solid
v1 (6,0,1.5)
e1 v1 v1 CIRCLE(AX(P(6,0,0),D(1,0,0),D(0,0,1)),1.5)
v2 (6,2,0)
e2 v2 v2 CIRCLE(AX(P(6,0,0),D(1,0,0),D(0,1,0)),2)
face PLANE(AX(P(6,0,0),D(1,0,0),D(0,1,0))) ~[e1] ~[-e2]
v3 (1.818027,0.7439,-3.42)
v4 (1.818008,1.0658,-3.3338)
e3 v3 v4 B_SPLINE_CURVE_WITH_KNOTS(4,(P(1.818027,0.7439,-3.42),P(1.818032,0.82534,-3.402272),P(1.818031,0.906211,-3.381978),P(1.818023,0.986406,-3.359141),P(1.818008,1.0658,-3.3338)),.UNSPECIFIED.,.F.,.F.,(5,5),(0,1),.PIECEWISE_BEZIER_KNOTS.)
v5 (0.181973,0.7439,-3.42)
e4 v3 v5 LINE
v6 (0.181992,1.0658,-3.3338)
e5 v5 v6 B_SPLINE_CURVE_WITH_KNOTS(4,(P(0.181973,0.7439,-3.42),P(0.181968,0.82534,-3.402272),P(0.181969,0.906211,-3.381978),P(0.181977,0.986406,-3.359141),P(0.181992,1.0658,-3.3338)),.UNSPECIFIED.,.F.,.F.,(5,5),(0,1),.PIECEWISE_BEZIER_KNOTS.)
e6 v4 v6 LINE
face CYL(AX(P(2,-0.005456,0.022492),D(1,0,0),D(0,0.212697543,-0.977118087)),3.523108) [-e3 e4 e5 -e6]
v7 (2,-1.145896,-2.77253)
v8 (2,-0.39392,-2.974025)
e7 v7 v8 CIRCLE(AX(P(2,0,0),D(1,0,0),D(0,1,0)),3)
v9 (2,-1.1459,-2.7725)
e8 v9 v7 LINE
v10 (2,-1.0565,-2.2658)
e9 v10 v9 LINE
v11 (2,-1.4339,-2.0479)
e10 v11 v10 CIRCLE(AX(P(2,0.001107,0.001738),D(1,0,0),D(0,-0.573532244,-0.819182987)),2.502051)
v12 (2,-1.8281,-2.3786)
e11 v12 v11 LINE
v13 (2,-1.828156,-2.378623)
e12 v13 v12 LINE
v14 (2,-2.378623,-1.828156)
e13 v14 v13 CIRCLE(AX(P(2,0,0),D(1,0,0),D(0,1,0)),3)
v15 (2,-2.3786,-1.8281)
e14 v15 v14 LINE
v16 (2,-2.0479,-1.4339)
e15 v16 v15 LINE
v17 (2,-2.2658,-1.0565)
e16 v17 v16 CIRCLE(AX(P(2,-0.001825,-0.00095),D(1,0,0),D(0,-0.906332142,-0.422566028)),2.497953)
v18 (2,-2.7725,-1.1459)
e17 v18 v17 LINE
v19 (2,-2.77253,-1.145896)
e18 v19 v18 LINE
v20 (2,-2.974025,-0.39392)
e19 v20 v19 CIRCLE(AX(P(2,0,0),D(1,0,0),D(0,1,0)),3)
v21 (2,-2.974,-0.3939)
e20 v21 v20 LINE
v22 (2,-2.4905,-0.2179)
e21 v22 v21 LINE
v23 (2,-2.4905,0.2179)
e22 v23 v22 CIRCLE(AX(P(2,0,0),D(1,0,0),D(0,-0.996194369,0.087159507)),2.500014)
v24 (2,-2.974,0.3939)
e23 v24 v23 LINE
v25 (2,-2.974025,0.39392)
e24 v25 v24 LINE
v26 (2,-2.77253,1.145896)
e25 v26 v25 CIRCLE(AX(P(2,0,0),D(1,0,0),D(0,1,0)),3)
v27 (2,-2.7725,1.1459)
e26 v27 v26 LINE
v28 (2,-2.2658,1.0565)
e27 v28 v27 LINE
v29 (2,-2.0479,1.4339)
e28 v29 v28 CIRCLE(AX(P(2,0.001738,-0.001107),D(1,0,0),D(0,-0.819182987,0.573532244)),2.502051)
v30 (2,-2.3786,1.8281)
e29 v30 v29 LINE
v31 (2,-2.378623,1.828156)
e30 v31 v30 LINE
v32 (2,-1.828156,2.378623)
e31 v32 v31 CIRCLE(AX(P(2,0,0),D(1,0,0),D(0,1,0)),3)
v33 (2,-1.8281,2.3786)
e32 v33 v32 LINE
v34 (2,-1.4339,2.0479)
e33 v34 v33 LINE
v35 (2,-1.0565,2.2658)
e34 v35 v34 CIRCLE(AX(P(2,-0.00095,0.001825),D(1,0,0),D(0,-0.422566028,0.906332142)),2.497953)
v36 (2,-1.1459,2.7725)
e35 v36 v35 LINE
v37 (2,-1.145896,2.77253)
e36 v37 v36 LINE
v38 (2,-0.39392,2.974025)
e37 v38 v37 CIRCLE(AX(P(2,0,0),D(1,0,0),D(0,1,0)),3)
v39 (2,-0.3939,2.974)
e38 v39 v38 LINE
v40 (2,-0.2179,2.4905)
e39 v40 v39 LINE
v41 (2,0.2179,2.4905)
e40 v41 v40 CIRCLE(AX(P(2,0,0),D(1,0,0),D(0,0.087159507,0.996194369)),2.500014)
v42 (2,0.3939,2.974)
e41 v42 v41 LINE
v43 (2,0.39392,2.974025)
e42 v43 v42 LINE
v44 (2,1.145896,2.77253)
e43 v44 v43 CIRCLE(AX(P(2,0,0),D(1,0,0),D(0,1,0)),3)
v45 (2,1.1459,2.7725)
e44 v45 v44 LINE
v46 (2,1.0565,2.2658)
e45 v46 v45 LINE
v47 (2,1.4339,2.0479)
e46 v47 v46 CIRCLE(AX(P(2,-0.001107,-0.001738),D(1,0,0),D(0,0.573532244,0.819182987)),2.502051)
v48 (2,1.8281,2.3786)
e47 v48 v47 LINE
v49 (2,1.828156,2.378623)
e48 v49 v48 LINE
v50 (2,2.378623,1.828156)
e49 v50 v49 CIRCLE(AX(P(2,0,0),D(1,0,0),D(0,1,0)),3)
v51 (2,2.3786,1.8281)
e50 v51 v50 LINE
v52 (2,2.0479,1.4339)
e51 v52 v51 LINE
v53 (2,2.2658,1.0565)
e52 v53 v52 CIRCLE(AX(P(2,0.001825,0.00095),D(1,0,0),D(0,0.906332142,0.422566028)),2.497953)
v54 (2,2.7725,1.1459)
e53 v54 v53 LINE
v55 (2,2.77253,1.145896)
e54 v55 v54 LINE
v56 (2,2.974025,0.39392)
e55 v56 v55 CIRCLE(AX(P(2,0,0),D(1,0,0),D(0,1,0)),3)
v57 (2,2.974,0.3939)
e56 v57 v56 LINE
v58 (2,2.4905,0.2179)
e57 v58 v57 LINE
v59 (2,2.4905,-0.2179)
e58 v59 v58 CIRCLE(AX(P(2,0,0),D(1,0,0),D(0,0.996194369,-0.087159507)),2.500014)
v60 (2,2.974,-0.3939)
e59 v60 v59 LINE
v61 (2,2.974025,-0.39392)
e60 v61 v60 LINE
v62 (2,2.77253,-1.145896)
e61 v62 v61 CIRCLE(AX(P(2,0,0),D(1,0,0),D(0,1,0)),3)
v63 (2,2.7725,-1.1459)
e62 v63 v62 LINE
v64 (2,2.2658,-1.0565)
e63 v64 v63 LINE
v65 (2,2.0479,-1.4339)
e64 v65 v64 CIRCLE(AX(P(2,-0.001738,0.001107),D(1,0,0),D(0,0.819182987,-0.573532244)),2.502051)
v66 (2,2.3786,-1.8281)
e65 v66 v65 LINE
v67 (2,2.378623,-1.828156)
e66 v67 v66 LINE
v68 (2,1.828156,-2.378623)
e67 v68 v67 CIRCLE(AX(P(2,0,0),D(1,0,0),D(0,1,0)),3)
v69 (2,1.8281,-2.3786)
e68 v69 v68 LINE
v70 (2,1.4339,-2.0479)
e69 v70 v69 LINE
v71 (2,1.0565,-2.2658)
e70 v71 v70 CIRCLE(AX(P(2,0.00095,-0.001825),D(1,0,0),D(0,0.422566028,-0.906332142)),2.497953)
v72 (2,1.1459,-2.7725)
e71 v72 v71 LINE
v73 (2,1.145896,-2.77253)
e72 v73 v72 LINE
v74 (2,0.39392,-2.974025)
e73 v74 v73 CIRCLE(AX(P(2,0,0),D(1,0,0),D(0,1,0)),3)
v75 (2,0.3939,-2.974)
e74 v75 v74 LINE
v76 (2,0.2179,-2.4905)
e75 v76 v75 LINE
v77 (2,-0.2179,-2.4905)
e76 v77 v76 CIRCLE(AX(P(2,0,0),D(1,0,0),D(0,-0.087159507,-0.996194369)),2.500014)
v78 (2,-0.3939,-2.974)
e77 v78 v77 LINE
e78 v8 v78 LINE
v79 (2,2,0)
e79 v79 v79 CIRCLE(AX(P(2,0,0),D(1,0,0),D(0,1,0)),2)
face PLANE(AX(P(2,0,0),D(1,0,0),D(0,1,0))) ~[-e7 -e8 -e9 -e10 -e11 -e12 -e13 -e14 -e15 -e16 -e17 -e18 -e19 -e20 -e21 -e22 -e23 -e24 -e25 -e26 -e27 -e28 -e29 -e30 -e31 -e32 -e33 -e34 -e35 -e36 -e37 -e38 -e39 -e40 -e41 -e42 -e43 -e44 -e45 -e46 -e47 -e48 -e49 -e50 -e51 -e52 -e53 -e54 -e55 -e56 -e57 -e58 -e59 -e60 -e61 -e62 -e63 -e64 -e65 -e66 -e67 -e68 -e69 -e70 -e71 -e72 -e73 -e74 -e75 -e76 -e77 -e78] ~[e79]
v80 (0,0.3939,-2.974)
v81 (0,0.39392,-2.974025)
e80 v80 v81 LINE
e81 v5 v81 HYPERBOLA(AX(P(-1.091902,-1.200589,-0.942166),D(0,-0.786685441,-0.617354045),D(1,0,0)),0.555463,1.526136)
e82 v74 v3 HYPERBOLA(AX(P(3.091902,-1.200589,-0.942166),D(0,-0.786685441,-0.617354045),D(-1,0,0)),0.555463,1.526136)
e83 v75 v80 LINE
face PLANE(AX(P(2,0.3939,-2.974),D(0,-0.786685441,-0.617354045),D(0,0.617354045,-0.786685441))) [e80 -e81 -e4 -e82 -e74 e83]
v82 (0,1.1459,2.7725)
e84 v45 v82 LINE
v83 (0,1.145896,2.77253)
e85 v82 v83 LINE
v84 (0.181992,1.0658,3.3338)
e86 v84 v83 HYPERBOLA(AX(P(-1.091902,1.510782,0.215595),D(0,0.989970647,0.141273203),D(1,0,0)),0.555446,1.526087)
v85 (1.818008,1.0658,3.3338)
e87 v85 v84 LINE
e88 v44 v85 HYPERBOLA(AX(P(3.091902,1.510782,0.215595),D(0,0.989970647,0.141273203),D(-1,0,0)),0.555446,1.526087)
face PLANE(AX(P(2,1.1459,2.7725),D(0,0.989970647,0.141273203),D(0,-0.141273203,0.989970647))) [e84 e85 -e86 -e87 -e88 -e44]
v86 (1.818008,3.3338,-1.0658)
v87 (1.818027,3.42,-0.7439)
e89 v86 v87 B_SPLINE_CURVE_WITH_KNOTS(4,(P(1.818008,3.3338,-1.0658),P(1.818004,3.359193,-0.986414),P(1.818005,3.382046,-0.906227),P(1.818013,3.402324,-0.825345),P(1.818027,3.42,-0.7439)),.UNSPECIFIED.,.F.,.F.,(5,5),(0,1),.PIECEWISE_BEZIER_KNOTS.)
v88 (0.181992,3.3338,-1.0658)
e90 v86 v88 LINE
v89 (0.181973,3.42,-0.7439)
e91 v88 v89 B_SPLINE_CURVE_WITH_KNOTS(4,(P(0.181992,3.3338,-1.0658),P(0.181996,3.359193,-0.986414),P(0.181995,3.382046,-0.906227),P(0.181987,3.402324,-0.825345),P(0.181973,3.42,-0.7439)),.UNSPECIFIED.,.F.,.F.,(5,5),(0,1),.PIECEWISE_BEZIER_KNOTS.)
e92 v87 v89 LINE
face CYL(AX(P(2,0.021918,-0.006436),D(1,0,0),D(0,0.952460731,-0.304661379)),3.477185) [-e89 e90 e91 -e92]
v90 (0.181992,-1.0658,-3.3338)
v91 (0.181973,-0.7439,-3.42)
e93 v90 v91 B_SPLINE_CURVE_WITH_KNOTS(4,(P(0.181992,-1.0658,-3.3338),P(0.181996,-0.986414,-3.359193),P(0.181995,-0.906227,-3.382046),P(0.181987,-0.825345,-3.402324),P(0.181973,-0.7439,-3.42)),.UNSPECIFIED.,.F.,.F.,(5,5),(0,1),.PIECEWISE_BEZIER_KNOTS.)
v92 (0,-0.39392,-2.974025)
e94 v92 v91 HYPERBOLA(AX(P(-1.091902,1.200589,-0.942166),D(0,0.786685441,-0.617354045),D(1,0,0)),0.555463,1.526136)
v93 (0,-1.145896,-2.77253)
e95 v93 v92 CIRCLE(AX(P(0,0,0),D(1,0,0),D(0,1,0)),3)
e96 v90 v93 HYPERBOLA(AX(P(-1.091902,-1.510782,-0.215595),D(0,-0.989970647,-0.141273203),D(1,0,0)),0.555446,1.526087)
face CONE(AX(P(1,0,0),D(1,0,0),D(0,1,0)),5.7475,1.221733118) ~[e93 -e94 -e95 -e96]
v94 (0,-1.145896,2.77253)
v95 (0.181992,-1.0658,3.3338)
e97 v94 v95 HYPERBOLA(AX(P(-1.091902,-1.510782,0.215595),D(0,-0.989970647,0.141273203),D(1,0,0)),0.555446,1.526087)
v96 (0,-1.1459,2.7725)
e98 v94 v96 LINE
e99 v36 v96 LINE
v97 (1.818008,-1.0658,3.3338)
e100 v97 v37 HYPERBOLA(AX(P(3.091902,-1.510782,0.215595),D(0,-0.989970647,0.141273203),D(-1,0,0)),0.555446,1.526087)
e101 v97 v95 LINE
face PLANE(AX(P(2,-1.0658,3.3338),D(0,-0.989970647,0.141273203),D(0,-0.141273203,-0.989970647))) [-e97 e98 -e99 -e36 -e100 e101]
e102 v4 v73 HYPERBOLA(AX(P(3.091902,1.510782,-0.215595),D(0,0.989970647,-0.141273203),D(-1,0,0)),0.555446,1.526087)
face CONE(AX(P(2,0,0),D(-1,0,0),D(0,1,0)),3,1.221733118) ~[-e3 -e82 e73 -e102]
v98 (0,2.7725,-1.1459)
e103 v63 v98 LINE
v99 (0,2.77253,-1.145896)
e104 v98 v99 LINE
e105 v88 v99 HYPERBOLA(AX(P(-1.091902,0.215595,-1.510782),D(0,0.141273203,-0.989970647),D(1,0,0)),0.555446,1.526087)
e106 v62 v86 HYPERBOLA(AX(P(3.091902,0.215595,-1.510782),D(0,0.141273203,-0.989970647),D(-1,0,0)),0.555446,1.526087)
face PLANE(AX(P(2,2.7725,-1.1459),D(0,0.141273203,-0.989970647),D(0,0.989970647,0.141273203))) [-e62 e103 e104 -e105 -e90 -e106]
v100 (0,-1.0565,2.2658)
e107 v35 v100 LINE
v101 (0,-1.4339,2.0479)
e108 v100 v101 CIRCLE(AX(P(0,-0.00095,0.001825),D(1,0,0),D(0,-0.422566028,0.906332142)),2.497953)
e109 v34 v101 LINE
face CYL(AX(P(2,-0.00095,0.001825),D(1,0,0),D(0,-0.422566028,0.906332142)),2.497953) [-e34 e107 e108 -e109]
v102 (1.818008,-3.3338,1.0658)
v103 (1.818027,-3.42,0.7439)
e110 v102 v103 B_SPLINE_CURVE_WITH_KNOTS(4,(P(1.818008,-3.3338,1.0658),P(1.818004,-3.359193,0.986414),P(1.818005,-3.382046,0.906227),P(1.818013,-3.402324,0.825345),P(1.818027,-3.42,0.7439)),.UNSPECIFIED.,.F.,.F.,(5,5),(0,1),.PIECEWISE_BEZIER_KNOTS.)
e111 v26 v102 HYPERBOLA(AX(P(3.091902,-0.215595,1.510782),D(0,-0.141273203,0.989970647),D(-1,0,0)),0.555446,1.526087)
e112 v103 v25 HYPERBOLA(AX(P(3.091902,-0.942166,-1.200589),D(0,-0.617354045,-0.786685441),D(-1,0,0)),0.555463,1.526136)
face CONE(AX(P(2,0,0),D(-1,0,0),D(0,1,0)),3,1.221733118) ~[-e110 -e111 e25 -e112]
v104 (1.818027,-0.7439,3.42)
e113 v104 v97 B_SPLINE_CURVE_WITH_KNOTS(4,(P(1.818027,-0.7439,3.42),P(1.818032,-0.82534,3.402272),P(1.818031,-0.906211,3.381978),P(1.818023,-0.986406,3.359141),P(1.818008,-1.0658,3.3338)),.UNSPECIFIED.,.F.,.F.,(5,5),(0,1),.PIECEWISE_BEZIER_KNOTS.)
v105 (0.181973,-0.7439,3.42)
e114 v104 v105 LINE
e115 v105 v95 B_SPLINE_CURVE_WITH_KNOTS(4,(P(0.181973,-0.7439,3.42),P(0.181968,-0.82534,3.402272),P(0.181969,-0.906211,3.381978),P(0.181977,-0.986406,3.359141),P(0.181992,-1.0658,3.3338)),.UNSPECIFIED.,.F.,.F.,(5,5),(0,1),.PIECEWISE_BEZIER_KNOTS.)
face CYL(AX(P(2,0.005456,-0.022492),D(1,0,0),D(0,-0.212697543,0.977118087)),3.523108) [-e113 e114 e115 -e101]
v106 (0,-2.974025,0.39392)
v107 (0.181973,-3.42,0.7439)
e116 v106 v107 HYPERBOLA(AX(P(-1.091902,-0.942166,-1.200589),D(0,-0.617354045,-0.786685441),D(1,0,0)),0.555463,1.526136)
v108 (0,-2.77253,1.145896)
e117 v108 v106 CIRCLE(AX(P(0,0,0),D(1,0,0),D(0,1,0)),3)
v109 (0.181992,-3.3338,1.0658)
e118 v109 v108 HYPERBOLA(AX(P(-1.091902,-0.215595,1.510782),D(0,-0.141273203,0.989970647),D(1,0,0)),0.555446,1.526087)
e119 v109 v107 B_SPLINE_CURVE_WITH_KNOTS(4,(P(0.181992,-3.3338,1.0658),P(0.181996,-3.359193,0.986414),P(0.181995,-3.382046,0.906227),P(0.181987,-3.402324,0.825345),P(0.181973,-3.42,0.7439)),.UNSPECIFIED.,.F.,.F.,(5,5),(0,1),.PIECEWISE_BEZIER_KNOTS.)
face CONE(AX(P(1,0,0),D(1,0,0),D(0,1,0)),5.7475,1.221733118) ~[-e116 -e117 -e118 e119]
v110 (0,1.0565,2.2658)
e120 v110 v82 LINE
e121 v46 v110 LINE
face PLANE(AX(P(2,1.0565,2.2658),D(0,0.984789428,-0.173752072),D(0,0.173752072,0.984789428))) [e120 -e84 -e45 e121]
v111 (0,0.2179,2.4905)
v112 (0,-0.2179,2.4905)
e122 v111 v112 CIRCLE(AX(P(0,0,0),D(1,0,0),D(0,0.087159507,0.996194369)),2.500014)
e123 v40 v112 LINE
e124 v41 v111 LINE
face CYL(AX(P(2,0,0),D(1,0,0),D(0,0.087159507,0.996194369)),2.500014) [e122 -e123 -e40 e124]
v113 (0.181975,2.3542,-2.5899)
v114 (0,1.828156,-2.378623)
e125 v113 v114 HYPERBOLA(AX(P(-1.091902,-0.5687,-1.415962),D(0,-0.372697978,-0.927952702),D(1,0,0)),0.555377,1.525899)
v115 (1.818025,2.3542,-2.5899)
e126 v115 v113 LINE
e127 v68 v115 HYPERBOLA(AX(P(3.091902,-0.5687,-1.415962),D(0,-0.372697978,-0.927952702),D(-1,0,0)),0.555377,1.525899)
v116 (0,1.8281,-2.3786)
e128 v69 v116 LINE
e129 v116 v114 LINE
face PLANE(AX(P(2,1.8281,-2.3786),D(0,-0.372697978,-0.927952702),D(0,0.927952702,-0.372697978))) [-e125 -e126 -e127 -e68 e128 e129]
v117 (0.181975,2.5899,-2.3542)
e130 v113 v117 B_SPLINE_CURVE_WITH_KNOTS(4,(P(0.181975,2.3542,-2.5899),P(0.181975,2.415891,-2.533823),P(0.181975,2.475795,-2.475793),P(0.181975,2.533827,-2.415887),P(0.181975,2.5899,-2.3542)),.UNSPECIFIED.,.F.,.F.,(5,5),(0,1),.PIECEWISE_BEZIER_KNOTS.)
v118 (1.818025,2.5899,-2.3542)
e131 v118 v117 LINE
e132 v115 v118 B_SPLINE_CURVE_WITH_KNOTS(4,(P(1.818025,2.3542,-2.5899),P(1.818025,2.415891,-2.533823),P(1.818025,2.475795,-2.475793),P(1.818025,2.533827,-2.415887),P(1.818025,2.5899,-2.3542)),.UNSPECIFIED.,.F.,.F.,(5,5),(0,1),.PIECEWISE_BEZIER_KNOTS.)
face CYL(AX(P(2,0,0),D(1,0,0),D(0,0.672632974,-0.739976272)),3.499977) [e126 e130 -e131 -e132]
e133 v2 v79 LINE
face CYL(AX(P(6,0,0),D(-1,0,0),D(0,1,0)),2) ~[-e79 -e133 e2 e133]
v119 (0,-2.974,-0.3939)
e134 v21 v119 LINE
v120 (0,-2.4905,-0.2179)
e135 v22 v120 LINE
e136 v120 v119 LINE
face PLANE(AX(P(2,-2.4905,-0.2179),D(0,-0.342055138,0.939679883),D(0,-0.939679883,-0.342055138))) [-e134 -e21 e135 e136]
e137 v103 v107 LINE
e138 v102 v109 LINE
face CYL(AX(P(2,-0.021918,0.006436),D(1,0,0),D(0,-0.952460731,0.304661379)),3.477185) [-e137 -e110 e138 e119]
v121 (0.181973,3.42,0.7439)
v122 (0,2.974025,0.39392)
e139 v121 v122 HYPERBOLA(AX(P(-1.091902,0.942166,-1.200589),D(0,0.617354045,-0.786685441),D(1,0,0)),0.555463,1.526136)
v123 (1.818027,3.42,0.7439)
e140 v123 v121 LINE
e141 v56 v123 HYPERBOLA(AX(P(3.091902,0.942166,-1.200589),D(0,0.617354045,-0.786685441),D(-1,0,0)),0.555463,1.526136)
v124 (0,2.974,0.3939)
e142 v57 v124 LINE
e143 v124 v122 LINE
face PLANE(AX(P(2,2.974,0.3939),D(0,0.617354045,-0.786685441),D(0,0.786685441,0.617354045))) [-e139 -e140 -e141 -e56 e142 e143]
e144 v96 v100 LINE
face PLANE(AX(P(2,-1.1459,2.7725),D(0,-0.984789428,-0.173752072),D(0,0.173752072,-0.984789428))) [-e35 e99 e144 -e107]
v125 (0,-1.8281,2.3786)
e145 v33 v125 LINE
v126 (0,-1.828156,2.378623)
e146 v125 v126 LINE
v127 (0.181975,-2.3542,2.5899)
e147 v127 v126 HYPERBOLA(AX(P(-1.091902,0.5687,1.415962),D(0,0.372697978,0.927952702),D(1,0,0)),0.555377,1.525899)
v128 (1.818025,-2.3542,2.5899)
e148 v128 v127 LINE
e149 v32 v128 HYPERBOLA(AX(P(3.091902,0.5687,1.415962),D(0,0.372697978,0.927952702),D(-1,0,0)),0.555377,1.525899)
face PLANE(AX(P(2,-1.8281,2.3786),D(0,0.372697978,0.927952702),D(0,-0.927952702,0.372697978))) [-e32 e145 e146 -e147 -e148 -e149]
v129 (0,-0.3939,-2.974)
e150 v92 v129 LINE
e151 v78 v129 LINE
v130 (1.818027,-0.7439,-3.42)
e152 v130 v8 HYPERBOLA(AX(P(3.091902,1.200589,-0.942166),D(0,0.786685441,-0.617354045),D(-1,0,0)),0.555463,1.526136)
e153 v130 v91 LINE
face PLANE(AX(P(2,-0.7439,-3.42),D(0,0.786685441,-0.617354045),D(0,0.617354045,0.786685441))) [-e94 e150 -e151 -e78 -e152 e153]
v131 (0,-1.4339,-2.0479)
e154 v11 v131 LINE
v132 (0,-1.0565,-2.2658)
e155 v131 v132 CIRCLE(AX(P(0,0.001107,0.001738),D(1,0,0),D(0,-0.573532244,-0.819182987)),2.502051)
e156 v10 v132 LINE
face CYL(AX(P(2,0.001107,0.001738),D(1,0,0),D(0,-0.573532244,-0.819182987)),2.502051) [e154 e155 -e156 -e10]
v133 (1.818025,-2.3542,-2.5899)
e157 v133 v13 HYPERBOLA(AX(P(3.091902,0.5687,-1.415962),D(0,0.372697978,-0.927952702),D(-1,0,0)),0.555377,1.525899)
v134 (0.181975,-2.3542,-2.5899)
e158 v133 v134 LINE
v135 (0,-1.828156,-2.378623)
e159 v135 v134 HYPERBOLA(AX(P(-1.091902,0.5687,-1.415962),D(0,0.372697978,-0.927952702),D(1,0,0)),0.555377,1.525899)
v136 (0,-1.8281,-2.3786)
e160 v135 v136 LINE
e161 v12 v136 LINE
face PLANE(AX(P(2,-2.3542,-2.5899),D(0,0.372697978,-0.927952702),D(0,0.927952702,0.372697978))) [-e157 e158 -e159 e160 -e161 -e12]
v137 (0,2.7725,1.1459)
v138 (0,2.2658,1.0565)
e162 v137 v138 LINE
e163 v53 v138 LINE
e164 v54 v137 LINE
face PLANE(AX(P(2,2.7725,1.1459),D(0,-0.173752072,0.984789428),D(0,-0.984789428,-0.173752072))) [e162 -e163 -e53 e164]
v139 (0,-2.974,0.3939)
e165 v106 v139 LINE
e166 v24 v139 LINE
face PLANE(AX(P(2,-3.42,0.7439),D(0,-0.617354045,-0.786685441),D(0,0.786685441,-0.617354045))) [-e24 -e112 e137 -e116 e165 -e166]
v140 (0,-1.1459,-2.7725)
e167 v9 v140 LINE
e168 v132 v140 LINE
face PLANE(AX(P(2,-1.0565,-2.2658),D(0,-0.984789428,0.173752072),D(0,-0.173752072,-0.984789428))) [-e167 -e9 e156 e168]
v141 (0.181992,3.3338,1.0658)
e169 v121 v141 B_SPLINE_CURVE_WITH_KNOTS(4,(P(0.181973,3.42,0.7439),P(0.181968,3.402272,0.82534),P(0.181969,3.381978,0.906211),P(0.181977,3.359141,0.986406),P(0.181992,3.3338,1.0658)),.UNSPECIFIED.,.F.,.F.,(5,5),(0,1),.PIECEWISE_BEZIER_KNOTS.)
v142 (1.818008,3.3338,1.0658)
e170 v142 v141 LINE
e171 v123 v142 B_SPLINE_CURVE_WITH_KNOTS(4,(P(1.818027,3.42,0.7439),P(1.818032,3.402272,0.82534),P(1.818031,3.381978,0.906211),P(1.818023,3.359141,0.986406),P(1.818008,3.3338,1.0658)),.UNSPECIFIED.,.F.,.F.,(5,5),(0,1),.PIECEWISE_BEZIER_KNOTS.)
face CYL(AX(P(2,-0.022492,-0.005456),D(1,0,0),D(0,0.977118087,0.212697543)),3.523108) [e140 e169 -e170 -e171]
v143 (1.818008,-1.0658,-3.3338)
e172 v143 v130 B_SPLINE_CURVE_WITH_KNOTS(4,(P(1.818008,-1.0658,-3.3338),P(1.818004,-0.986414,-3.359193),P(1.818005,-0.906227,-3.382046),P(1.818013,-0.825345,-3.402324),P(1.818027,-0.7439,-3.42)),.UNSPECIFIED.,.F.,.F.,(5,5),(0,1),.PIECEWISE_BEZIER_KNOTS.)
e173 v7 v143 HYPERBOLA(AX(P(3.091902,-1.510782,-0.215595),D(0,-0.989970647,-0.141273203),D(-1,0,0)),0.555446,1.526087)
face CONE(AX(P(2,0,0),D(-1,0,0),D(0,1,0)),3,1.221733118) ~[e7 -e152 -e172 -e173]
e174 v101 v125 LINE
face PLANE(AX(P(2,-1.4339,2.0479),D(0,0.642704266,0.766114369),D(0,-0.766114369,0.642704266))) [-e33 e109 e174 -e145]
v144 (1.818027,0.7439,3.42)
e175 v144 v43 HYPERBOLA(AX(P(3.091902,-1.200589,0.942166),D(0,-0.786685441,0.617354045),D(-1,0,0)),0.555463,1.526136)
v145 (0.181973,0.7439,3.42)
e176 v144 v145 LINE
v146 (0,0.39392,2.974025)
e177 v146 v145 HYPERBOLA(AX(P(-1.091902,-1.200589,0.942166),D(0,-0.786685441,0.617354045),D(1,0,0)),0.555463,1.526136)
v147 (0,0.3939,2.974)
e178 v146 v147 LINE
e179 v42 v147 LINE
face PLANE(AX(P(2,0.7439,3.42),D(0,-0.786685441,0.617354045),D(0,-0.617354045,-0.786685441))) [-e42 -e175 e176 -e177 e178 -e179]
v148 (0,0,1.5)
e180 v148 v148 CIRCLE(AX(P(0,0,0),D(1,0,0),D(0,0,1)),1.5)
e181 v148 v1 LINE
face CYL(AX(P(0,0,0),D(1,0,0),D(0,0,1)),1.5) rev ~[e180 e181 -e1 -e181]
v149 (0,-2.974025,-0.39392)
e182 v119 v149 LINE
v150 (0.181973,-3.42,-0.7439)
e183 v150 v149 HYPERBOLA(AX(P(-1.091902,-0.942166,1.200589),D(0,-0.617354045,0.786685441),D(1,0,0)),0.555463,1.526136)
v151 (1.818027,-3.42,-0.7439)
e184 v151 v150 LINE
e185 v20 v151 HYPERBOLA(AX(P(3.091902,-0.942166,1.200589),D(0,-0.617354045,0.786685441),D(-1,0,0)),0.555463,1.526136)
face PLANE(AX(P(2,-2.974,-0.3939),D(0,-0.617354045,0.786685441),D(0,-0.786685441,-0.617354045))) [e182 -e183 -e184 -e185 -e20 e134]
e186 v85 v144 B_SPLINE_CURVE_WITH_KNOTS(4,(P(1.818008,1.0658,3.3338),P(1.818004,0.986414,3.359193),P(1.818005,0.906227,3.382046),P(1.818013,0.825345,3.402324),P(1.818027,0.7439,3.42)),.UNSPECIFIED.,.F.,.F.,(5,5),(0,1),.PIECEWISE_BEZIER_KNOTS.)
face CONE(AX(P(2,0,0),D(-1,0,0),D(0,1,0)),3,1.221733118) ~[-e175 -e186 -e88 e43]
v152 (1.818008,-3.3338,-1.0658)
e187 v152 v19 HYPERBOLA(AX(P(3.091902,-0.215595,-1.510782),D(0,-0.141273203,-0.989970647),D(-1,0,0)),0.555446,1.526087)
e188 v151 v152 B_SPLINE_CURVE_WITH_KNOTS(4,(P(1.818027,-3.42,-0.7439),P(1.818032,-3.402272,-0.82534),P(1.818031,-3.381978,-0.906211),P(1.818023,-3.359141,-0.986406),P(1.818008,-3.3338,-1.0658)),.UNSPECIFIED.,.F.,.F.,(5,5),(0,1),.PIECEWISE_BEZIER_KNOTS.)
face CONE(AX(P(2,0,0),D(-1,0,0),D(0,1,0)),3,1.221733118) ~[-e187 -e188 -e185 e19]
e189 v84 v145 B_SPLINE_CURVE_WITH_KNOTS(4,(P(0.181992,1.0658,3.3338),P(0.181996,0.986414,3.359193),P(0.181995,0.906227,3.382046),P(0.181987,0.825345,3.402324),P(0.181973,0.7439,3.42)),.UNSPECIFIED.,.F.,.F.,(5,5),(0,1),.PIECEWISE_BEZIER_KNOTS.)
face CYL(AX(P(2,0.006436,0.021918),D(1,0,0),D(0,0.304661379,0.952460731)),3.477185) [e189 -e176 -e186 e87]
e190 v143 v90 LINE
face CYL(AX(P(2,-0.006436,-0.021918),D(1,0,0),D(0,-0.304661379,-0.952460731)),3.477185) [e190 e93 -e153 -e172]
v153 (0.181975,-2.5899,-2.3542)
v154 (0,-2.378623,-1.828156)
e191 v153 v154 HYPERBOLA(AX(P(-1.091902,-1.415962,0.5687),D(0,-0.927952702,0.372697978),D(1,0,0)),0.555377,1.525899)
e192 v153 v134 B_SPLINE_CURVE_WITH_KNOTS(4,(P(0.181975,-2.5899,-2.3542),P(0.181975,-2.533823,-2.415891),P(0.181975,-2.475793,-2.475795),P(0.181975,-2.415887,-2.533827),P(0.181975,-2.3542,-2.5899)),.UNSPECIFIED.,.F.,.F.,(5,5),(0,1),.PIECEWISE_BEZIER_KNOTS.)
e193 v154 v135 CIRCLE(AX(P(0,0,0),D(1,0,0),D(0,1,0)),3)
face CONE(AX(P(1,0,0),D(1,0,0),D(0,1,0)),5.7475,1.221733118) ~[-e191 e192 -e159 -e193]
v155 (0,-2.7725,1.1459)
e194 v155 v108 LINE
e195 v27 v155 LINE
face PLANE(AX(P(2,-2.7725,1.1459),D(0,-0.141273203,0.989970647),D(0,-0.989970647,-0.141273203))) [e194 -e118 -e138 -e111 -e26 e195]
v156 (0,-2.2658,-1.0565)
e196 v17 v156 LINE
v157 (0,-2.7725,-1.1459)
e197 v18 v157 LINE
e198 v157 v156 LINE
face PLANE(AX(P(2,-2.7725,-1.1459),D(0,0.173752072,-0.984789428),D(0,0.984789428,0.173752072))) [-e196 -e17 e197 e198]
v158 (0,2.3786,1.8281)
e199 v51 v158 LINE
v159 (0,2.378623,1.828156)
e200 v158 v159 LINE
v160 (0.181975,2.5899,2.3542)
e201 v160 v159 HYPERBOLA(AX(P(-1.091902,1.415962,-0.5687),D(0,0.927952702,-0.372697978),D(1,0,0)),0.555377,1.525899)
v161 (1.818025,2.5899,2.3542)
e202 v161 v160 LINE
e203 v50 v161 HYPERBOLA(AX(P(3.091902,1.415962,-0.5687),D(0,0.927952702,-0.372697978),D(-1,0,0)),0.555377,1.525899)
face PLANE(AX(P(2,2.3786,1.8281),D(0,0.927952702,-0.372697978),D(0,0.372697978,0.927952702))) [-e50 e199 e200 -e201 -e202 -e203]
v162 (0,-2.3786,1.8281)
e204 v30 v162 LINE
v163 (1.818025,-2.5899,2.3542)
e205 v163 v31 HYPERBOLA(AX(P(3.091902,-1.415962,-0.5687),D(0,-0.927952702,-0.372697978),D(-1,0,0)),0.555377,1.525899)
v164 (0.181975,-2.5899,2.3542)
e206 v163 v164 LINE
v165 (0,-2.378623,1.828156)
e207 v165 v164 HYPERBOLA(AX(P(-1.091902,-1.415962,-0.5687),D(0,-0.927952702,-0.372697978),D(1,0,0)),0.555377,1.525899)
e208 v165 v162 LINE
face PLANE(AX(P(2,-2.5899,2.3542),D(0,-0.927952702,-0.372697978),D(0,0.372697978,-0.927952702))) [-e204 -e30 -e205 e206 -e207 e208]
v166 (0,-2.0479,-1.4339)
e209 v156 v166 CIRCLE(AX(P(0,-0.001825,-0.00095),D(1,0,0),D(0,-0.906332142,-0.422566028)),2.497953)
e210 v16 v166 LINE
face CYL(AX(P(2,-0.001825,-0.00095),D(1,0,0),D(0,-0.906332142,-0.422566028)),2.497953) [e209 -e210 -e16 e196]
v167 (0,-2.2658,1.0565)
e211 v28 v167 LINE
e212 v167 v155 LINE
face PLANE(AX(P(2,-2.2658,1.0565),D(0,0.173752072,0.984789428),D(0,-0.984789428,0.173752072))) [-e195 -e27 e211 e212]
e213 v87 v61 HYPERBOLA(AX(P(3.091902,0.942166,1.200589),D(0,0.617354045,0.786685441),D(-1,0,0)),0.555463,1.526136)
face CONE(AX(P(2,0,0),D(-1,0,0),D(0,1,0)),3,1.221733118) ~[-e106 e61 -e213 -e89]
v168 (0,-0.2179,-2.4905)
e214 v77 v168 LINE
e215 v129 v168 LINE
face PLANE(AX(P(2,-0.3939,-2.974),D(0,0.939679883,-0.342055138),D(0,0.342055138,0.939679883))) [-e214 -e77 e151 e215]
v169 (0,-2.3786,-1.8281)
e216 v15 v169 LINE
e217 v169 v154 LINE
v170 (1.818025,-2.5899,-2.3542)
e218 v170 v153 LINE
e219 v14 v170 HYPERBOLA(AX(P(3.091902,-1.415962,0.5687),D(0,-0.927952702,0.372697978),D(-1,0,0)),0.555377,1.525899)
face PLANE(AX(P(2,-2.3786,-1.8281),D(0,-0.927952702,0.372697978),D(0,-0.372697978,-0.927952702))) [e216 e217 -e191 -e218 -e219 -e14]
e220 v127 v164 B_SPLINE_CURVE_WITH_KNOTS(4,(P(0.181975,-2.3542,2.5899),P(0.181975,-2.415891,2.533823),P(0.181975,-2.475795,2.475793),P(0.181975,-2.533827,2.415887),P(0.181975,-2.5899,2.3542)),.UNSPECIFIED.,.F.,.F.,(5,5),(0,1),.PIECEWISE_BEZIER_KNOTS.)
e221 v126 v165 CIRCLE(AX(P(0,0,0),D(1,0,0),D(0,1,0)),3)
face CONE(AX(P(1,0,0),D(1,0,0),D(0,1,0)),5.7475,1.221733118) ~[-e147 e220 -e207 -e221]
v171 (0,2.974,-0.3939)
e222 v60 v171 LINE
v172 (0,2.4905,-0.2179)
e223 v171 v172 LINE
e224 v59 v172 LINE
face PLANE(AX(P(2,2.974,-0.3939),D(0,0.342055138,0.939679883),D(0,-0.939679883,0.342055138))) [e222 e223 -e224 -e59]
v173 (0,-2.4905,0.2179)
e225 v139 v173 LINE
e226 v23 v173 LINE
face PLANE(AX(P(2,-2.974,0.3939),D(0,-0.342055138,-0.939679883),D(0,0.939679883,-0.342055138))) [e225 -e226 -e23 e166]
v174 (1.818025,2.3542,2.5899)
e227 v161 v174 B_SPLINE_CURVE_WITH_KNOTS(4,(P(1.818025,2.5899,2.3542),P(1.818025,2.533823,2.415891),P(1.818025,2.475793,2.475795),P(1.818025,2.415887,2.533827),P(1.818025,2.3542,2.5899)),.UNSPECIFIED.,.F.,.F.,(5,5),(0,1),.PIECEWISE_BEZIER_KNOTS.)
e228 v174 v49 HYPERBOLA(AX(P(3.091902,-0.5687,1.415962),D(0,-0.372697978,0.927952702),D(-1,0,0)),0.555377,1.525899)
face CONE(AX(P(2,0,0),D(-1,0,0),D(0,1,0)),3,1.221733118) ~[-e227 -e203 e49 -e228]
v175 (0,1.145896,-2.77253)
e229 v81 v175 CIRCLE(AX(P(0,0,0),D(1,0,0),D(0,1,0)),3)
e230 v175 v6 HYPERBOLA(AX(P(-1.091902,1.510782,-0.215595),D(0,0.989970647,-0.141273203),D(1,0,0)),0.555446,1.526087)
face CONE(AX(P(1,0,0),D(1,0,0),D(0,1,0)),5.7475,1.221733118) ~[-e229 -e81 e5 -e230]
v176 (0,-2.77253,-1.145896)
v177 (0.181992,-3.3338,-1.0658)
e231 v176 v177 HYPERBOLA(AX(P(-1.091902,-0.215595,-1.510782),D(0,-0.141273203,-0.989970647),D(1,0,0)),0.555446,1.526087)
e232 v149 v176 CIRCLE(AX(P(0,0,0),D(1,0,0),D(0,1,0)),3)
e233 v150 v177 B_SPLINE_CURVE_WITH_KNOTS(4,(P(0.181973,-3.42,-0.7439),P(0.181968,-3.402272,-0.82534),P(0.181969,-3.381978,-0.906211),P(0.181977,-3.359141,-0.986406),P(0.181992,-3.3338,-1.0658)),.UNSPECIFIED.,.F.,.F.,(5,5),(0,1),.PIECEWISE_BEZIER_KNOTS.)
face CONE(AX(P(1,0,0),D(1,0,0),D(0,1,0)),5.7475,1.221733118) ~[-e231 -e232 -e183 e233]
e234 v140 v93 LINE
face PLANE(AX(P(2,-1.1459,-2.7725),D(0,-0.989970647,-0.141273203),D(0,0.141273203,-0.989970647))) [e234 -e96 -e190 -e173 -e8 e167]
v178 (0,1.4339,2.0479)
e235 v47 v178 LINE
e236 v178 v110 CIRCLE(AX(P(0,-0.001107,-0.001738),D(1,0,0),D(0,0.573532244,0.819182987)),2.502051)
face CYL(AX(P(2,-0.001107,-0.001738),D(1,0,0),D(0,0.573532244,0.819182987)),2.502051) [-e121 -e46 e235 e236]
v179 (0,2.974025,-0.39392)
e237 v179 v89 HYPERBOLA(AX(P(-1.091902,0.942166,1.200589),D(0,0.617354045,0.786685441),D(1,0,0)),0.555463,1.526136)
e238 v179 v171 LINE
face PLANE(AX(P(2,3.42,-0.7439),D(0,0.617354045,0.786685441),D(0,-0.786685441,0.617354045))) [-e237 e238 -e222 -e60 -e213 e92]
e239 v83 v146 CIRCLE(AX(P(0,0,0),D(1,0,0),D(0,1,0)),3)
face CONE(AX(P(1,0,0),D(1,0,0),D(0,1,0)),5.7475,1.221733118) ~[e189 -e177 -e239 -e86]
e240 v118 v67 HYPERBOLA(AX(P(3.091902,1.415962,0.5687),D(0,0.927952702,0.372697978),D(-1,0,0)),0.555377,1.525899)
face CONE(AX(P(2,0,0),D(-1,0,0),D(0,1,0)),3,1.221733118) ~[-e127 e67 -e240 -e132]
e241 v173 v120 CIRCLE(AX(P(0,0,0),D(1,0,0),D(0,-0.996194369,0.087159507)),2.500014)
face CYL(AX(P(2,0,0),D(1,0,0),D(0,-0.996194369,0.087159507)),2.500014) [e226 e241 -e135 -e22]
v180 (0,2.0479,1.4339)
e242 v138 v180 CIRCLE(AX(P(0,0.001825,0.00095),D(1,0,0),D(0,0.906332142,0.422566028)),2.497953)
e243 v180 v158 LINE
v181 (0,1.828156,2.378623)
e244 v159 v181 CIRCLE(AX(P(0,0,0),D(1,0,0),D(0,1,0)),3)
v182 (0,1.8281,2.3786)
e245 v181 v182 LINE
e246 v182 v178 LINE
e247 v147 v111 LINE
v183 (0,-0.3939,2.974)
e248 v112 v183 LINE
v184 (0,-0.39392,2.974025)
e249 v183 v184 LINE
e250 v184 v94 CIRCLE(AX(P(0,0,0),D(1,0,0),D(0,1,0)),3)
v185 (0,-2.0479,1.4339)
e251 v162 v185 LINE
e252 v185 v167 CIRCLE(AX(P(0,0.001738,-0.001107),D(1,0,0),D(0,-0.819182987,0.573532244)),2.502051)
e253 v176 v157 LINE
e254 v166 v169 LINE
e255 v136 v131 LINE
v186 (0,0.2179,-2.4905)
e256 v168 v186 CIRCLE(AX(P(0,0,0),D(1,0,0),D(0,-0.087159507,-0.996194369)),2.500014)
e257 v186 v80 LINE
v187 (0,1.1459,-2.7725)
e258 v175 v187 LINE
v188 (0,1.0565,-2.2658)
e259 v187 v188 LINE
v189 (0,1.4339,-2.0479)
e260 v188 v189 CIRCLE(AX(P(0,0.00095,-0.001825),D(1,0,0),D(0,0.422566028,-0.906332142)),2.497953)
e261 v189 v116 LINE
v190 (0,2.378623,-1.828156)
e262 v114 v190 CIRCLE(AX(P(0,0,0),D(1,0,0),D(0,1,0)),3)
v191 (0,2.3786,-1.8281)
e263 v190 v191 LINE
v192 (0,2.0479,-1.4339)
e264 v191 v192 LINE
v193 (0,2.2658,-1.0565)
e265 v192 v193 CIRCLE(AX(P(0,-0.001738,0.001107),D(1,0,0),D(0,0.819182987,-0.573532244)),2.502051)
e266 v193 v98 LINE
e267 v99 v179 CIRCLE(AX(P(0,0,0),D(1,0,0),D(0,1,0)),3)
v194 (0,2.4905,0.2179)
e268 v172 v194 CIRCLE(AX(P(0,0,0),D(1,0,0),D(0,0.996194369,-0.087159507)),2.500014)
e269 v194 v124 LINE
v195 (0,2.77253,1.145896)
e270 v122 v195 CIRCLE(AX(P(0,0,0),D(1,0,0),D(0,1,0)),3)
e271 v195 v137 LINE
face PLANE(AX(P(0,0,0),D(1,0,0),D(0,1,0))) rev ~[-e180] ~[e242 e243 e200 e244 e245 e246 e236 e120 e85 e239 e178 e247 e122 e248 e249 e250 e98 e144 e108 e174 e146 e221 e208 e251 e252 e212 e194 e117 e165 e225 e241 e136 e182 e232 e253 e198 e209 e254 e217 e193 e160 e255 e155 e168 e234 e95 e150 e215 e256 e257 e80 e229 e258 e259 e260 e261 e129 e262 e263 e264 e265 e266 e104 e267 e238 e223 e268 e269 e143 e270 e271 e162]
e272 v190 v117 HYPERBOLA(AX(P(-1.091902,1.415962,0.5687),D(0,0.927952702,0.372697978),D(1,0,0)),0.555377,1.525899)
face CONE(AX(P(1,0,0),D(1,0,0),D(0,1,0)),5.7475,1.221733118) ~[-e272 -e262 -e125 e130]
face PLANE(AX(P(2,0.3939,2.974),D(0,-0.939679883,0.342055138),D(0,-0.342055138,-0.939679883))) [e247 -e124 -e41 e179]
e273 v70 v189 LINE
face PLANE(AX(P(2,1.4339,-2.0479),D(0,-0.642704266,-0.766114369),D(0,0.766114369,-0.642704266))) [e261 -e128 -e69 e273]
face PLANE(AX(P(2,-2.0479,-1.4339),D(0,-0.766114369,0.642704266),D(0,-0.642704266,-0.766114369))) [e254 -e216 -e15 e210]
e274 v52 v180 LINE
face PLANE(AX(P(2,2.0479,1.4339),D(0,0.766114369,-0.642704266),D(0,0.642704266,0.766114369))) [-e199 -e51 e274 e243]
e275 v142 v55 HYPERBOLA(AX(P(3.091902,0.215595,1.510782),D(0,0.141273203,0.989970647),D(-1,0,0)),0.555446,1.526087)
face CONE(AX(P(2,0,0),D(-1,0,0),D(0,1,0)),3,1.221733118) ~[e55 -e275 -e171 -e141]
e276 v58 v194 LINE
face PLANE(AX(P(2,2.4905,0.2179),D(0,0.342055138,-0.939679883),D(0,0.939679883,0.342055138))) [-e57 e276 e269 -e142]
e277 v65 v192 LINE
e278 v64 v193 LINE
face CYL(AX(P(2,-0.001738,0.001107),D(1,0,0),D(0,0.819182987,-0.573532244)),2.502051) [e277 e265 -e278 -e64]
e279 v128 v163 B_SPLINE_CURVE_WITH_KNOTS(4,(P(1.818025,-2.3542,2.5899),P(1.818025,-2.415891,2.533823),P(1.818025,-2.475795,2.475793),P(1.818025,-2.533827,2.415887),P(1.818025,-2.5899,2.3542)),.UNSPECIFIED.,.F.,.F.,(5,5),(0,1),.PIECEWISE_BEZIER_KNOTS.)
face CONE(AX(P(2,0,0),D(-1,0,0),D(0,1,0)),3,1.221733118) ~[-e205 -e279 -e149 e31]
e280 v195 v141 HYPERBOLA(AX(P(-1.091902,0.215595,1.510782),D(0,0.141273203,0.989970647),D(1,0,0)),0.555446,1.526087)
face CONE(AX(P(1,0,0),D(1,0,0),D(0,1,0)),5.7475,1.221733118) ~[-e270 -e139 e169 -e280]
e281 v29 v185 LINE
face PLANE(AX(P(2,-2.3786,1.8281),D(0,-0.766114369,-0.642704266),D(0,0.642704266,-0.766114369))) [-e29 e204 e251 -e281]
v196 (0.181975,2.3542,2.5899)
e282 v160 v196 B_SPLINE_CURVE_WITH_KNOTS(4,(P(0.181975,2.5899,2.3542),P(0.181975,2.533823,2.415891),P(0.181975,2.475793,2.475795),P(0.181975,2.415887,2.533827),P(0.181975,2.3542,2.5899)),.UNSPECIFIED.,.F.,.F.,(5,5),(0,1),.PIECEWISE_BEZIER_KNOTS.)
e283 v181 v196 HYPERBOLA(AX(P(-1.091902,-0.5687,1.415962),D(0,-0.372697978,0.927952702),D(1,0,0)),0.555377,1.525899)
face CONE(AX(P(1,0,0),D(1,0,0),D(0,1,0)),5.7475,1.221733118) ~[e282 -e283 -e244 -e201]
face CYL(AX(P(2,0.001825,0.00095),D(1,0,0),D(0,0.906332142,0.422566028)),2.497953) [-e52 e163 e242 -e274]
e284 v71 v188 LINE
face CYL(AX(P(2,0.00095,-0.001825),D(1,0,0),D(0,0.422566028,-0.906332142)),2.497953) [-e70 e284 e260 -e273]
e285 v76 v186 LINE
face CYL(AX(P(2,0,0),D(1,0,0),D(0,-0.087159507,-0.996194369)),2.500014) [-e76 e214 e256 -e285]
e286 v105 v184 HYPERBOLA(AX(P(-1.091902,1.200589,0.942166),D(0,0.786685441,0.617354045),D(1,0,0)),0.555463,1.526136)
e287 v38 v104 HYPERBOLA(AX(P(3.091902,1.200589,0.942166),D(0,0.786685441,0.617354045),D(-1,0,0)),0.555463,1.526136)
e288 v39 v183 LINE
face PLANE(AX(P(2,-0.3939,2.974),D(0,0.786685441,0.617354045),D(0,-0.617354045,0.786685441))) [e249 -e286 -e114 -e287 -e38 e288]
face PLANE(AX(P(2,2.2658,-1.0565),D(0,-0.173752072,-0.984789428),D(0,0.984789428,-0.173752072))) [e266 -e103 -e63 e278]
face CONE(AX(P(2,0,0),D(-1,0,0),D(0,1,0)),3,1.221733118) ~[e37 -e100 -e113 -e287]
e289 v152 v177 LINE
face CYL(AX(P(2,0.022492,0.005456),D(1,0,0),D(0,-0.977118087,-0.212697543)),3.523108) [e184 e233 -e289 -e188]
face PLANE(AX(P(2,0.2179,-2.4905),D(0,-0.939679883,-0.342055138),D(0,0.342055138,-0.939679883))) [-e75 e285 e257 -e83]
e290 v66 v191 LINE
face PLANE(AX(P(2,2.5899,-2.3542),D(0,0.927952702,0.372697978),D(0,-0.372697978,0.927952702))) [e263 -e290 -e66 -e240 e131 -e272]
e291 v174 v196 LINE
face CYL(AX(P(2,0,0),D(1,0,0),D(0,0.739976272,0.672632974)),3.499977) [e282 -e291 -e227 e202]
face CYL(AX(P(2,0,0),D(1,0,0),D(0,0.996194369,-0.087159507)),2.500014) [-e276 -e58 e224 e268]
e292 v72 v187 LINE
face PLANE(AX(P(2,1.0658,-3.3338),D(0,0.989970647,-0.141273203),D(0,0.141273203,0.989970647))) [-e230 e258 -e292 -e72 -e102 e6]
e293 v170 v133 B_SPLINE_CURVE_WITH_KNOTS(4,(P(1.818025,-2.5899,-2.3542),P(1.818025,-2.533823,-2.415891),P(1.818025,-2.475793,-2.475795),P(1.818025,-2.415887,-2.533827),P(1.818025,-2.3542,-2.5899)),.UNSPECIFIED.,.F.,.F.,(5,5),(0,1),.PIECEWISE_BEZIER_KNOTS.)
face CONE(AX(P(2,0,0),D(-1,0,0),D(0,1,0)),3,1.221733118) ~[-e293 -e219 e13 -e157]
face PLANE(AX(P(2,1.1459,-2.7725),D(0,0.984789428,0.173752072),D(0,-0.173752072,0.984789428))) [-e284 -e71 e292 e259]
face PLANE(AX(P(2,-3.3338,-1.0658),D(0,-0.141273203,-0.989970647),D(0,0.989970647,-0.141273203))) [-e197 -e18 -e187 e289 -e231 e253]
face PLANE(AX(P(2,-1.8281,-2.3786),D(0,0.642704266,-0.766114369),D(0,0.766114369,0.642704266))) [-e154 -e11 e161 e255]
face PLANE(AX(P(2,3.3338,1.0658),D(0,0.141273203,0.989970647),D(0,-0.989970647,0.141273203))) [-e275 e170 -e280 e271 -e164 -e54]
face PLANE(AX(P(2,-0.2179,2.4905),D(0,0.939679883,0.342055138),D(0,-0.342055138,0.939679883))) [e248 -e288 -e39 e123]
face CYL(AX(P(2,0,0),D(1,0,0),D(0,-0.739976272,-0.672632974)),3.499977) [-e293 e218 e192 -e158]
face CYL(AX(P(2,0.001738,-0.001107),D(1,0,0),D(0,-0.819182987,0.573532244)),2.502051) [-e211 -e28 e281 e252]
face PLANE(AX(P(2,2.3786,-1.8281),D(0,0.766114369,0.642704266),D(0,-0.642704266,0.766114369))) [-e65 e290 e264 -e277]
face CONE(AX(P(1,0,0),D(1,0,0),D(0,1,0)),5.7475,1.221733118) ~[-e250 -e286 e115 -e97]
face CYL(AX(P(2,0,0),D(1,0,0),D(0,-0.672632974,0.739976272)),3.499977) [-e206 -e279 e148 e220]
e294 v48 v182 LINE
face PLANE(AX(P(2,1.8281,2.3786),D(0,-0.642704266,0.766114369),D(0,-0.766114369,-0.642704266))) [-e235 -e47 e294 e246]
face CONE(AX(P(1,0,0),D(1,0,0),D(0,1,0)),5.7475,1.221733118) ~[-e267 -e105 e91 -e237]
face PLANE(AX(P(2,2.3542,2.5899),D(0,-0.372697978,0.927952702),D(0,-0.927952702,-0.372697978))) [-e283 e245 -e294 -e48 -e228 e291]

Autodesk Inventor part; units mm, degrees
ref_plane "YZ Plane" through (0, 0, 0) normal (1, 0, 0) x (0, 1, 0)
ref_plane "XZ Plane" through (0, 0, 0) normal (0, 1, 0) x (-1, 0, 0)
ref_plane "XY Plane" through (0, 0, 0) normal (0, 0, 1) x (1, 0, 0)
sketch "Skizze_1" plane through (0, 0, 0) normal (0, 0, 1) x (1, 0, 0)
  line L0 (6, 0) -> (0, 0)
  line L1 (0, 1) -> (6, 1)
  line L2 (6, 1) -> (6, 2)
  line L3 (6, 2) -> (2, 2)
  line L4 (2, 2) -> (2, 3)
  line L5 (2, 3) -> (1, 5.7475)
  line L6 (1, 5.7475) -> (0, 3)
  line L7 (0, 3) -> (0, 1)
revolve "Revolution1" add sketch "Skizze_1" angle 360 about axis through (6, 0, 0) along (1, 0, 0)
sketch "Skizze_2" plane through (2, 0, 0) normal (1, 0, 0) x (0, 0, -1)
  circle A0 centre (0, 0) radius 10.5
  arc A1 (-3.42, -0.7439) -> (-3.3338, -1.0658) centre (0, 0) ccw
  line L0 (-3.3338, -1.0658) -> (-2.7725, -1.1459)
  line L1 (-2.7725, -1.1459) -> (-2.2658, -1.0565)
  arc A2 (-2.2658, -1.0565) -> (-2.0479, -1.4339) centre (0, 0) ccw
  line L2 (-2.0479, -1.4339) -> (-2.3786, -1.8281)
  line L3 (-2.3786, -1.8281) -> (-2.5899, -2.3542)
  arc A3 (-2.5899, -2.3542) -> (-2.3542, -2.5899) centre (0, 0) ccw
  line L4 (-2.3542, -2.5899) -> (-1.8281, -2.3786)
  line L5 (-1.8281, -2.3786) -> (-1.4339, -2.0479)
  arc A4 (-1.4339, -2.0479) -> (-1.0565, -2.2658) centre (0, 0) ccw
  line L6 (-1.0565, -2.2658) -> (-1.1459, -2.7725)
  line L7 (-1.1459, -2.7725) -> (-1.0658, -3.3338)
  arc A5 (-1.0658, -3.3338) -> (-0.7439, -3.42) centre (0, 0) ccw
  line L8 (-0.7439, -3.42) -> (-0.3939, -2.974)
  line L9 (-0.3939, -2.974) -> (-0.2179, -2.4905)
  arc A6 (-0.2179, -2.4905) -> (0.2179, -2.4905) centre (0, 0) ccw
  line L10 (0.2179, -2.4905) -> (0.3939, -2.974)
  line L11 (0.3939, -2.974) -> (0.7439, -3.42)
  arc A7 (0.7439, -3.42) -> (1.0658, -3.3338) centre (0, 0) ccw
  line L12 (1.0658, -3.3338) -> (1.1459, -2.7725)
  line L13 (1.1459, -2.7725) -> (1.0565, -2.2658)
  arc A8 (1.0565, -2.2658) -> (1.4339, -2.0479) centre (0, 0) ccw
  line L14 (1.4339, -2.0479) -> (1.8281, -2.3786)
  line L15 (1.8281, -2.3786) -> (2.3542, -2.5899)
  arc A9 (2.3542, -2.5899) -> (2.5899, -2.3542) centre (0, 0) ccw
  line L16 (2.5899, -2.3542) -> (2.3786, -1.8281)
  line L17 (2.3786, -1.8281) -> (2.0479, -1.4339)
  arc A10 (2.0479, -1.4339) -> (2.2658, -1.0565) centre (0, 0) ccw
  line L18 (2.2658, -1.0565) -> (2.7725, -1.1459)
  line L19 (2.7725, -1.1459) -> (3.3338, -1.0658)
  arc A11 (3.3338, -1.0658) -> (3.42, -0.7439) centre (0, 0) ccw
  line L20 (3.42, -0.7439) -> (2.974, -0.3939)
  line L21 (2.974, -0.3939) -> (2.4905, -0.2179)
  arc A12 (2.4905, -0.2179) -> (2.4905, 0.2179) centre (0, 0) ccw
  line L22 (2.4905, 0.2179) -> (2.974, 0.3939)
  line L23 (2.974, 0.3939) -> (3.42, 0.7439)
  arc A13 (3.42, 0.7439) -> (3.3338, 1.0658) centre (0, 0) ccw
  line L24 (3.3338, 1.0658) -> (2.7725, 1.1459)
  line L25 (2.7725, 1.1459) -> (2.2658, 1.0565)
  arc A14 (2.2658, 1.0565) -> (2.0479, 1.4339) centre (0, 0) ccw
  line L26 (2.0479, 1.4339) -> (2.3786, 1.8281)
  line L27 (2.3786, 1.8281) -> (2.5899, 2.3542)
  arc A15 (2.5899, 2.3542) -> (2.3542, 2.5899) centre (0, 0) ccw
  line L28 (2.3542, 2.5899) -> (1.8281, 2.3786)
  line L29 (1.8281, 2.3786) -> (1.4339, 2.0479)
  arc A16 (1.4339, 2.0479) -> (1.0565, 2.2658) centre (0, 0) ccw
  line L30 (1.0565, 2.2658) -> (1.1459, 2.7725)
  line L31 (1.1459, 2.7725) -> (1.0658, 3.3338)
  arc A17 (1.0658, 3.3338) -> (0.7439, 3.42) centre (0, 0) ccw
  line L32 (0.7439, 3.42) -> (0.3939, 2.974)
  line L33 (0.3939, 2.974) -> (0.2179, 2.4905)
  arc A18 (0.2179, 2.4905) -> (-0.2179, 2.4905) centre (0, 0) ccw
  line L34 (-0.2179, 2.4905) -> (-0.3939, 2.974)
  line L35 (-0.3939, 2.974) -> (-0.7439, 3.42)
  arc A19 (-0.7439, 3.42) -> (-1.0658, 3.3338) centre (0, 0) ccw
  line L36 (-1.0658, 3.3338) -> (-1.1459, 2.7725)
  line L37 (-1.1459, 2.7725) -> (-1.0565, 2.2658)
  arc A20 (-1.0565, 2.2658) -> (-1.4339, 2.0479) centre (0, 0) ccw
  line L38 (-1.4339, 2.0479) -> (-1.8281, 2.3786)
  line L39 (-1.8281, 2.3786) -> (-2.3542, 2.5899)
  arc A21 (-2.3542, 2.5899) -> (-2.5899, 2.3542) centre (0, 0) ccw
  line L40 (-2.5899, 2.3542) -> (-2.3786, 1.8281)
  line L41 (-2.3786, 1.8281) -> (-2.0479, 1.4339)
  arc A22 (-2.0479, 1.4339) -> (-2.2658, 1.0565) centre (0, 0) ccw
  line L42 (-2.2658, 1.0565) -> (-2.7725, 1.1459)
  line L43 (-2.7725, 1.1459) -> (-3.3338, 1.0658)
  arc A23 (-3.3338, 1.0658) -> (-3.42, 0.7439) centre (0, 0) ccw
  line L44 (-3.42, 0.7439) -> (-2.974, 0.3939)
  line L45 (-2.974, 0.3939) -> (-2.4905, 0.2179)
  arc A24 (-2.4905, 0.2179) -> (-2.4905, -0.2179) centre (0, 0) ccw
  line L46 (-2.4905, -0.2179) -> (-2.974, -0.3939)
  line L47 (-2.974, -0.3939) -> (-3.42, -0.7439)
extrude "Extrusion1" cut sketch "Skizze_2" along normal mid plane 12
sketch "Skizze3" plane through (0, 0, 0) normal (-1, 0, 0) x (0, 0, 1)
  circle A0 centre (0, 0) radius 2 projected
hole "Bohrung1" at (0, 0, 0) direction (1, 0, 0) diameter 3 end through all
properties part number "Zahnrad Messing z12" material "Messing, weicher Gelbton, geschweißt"
